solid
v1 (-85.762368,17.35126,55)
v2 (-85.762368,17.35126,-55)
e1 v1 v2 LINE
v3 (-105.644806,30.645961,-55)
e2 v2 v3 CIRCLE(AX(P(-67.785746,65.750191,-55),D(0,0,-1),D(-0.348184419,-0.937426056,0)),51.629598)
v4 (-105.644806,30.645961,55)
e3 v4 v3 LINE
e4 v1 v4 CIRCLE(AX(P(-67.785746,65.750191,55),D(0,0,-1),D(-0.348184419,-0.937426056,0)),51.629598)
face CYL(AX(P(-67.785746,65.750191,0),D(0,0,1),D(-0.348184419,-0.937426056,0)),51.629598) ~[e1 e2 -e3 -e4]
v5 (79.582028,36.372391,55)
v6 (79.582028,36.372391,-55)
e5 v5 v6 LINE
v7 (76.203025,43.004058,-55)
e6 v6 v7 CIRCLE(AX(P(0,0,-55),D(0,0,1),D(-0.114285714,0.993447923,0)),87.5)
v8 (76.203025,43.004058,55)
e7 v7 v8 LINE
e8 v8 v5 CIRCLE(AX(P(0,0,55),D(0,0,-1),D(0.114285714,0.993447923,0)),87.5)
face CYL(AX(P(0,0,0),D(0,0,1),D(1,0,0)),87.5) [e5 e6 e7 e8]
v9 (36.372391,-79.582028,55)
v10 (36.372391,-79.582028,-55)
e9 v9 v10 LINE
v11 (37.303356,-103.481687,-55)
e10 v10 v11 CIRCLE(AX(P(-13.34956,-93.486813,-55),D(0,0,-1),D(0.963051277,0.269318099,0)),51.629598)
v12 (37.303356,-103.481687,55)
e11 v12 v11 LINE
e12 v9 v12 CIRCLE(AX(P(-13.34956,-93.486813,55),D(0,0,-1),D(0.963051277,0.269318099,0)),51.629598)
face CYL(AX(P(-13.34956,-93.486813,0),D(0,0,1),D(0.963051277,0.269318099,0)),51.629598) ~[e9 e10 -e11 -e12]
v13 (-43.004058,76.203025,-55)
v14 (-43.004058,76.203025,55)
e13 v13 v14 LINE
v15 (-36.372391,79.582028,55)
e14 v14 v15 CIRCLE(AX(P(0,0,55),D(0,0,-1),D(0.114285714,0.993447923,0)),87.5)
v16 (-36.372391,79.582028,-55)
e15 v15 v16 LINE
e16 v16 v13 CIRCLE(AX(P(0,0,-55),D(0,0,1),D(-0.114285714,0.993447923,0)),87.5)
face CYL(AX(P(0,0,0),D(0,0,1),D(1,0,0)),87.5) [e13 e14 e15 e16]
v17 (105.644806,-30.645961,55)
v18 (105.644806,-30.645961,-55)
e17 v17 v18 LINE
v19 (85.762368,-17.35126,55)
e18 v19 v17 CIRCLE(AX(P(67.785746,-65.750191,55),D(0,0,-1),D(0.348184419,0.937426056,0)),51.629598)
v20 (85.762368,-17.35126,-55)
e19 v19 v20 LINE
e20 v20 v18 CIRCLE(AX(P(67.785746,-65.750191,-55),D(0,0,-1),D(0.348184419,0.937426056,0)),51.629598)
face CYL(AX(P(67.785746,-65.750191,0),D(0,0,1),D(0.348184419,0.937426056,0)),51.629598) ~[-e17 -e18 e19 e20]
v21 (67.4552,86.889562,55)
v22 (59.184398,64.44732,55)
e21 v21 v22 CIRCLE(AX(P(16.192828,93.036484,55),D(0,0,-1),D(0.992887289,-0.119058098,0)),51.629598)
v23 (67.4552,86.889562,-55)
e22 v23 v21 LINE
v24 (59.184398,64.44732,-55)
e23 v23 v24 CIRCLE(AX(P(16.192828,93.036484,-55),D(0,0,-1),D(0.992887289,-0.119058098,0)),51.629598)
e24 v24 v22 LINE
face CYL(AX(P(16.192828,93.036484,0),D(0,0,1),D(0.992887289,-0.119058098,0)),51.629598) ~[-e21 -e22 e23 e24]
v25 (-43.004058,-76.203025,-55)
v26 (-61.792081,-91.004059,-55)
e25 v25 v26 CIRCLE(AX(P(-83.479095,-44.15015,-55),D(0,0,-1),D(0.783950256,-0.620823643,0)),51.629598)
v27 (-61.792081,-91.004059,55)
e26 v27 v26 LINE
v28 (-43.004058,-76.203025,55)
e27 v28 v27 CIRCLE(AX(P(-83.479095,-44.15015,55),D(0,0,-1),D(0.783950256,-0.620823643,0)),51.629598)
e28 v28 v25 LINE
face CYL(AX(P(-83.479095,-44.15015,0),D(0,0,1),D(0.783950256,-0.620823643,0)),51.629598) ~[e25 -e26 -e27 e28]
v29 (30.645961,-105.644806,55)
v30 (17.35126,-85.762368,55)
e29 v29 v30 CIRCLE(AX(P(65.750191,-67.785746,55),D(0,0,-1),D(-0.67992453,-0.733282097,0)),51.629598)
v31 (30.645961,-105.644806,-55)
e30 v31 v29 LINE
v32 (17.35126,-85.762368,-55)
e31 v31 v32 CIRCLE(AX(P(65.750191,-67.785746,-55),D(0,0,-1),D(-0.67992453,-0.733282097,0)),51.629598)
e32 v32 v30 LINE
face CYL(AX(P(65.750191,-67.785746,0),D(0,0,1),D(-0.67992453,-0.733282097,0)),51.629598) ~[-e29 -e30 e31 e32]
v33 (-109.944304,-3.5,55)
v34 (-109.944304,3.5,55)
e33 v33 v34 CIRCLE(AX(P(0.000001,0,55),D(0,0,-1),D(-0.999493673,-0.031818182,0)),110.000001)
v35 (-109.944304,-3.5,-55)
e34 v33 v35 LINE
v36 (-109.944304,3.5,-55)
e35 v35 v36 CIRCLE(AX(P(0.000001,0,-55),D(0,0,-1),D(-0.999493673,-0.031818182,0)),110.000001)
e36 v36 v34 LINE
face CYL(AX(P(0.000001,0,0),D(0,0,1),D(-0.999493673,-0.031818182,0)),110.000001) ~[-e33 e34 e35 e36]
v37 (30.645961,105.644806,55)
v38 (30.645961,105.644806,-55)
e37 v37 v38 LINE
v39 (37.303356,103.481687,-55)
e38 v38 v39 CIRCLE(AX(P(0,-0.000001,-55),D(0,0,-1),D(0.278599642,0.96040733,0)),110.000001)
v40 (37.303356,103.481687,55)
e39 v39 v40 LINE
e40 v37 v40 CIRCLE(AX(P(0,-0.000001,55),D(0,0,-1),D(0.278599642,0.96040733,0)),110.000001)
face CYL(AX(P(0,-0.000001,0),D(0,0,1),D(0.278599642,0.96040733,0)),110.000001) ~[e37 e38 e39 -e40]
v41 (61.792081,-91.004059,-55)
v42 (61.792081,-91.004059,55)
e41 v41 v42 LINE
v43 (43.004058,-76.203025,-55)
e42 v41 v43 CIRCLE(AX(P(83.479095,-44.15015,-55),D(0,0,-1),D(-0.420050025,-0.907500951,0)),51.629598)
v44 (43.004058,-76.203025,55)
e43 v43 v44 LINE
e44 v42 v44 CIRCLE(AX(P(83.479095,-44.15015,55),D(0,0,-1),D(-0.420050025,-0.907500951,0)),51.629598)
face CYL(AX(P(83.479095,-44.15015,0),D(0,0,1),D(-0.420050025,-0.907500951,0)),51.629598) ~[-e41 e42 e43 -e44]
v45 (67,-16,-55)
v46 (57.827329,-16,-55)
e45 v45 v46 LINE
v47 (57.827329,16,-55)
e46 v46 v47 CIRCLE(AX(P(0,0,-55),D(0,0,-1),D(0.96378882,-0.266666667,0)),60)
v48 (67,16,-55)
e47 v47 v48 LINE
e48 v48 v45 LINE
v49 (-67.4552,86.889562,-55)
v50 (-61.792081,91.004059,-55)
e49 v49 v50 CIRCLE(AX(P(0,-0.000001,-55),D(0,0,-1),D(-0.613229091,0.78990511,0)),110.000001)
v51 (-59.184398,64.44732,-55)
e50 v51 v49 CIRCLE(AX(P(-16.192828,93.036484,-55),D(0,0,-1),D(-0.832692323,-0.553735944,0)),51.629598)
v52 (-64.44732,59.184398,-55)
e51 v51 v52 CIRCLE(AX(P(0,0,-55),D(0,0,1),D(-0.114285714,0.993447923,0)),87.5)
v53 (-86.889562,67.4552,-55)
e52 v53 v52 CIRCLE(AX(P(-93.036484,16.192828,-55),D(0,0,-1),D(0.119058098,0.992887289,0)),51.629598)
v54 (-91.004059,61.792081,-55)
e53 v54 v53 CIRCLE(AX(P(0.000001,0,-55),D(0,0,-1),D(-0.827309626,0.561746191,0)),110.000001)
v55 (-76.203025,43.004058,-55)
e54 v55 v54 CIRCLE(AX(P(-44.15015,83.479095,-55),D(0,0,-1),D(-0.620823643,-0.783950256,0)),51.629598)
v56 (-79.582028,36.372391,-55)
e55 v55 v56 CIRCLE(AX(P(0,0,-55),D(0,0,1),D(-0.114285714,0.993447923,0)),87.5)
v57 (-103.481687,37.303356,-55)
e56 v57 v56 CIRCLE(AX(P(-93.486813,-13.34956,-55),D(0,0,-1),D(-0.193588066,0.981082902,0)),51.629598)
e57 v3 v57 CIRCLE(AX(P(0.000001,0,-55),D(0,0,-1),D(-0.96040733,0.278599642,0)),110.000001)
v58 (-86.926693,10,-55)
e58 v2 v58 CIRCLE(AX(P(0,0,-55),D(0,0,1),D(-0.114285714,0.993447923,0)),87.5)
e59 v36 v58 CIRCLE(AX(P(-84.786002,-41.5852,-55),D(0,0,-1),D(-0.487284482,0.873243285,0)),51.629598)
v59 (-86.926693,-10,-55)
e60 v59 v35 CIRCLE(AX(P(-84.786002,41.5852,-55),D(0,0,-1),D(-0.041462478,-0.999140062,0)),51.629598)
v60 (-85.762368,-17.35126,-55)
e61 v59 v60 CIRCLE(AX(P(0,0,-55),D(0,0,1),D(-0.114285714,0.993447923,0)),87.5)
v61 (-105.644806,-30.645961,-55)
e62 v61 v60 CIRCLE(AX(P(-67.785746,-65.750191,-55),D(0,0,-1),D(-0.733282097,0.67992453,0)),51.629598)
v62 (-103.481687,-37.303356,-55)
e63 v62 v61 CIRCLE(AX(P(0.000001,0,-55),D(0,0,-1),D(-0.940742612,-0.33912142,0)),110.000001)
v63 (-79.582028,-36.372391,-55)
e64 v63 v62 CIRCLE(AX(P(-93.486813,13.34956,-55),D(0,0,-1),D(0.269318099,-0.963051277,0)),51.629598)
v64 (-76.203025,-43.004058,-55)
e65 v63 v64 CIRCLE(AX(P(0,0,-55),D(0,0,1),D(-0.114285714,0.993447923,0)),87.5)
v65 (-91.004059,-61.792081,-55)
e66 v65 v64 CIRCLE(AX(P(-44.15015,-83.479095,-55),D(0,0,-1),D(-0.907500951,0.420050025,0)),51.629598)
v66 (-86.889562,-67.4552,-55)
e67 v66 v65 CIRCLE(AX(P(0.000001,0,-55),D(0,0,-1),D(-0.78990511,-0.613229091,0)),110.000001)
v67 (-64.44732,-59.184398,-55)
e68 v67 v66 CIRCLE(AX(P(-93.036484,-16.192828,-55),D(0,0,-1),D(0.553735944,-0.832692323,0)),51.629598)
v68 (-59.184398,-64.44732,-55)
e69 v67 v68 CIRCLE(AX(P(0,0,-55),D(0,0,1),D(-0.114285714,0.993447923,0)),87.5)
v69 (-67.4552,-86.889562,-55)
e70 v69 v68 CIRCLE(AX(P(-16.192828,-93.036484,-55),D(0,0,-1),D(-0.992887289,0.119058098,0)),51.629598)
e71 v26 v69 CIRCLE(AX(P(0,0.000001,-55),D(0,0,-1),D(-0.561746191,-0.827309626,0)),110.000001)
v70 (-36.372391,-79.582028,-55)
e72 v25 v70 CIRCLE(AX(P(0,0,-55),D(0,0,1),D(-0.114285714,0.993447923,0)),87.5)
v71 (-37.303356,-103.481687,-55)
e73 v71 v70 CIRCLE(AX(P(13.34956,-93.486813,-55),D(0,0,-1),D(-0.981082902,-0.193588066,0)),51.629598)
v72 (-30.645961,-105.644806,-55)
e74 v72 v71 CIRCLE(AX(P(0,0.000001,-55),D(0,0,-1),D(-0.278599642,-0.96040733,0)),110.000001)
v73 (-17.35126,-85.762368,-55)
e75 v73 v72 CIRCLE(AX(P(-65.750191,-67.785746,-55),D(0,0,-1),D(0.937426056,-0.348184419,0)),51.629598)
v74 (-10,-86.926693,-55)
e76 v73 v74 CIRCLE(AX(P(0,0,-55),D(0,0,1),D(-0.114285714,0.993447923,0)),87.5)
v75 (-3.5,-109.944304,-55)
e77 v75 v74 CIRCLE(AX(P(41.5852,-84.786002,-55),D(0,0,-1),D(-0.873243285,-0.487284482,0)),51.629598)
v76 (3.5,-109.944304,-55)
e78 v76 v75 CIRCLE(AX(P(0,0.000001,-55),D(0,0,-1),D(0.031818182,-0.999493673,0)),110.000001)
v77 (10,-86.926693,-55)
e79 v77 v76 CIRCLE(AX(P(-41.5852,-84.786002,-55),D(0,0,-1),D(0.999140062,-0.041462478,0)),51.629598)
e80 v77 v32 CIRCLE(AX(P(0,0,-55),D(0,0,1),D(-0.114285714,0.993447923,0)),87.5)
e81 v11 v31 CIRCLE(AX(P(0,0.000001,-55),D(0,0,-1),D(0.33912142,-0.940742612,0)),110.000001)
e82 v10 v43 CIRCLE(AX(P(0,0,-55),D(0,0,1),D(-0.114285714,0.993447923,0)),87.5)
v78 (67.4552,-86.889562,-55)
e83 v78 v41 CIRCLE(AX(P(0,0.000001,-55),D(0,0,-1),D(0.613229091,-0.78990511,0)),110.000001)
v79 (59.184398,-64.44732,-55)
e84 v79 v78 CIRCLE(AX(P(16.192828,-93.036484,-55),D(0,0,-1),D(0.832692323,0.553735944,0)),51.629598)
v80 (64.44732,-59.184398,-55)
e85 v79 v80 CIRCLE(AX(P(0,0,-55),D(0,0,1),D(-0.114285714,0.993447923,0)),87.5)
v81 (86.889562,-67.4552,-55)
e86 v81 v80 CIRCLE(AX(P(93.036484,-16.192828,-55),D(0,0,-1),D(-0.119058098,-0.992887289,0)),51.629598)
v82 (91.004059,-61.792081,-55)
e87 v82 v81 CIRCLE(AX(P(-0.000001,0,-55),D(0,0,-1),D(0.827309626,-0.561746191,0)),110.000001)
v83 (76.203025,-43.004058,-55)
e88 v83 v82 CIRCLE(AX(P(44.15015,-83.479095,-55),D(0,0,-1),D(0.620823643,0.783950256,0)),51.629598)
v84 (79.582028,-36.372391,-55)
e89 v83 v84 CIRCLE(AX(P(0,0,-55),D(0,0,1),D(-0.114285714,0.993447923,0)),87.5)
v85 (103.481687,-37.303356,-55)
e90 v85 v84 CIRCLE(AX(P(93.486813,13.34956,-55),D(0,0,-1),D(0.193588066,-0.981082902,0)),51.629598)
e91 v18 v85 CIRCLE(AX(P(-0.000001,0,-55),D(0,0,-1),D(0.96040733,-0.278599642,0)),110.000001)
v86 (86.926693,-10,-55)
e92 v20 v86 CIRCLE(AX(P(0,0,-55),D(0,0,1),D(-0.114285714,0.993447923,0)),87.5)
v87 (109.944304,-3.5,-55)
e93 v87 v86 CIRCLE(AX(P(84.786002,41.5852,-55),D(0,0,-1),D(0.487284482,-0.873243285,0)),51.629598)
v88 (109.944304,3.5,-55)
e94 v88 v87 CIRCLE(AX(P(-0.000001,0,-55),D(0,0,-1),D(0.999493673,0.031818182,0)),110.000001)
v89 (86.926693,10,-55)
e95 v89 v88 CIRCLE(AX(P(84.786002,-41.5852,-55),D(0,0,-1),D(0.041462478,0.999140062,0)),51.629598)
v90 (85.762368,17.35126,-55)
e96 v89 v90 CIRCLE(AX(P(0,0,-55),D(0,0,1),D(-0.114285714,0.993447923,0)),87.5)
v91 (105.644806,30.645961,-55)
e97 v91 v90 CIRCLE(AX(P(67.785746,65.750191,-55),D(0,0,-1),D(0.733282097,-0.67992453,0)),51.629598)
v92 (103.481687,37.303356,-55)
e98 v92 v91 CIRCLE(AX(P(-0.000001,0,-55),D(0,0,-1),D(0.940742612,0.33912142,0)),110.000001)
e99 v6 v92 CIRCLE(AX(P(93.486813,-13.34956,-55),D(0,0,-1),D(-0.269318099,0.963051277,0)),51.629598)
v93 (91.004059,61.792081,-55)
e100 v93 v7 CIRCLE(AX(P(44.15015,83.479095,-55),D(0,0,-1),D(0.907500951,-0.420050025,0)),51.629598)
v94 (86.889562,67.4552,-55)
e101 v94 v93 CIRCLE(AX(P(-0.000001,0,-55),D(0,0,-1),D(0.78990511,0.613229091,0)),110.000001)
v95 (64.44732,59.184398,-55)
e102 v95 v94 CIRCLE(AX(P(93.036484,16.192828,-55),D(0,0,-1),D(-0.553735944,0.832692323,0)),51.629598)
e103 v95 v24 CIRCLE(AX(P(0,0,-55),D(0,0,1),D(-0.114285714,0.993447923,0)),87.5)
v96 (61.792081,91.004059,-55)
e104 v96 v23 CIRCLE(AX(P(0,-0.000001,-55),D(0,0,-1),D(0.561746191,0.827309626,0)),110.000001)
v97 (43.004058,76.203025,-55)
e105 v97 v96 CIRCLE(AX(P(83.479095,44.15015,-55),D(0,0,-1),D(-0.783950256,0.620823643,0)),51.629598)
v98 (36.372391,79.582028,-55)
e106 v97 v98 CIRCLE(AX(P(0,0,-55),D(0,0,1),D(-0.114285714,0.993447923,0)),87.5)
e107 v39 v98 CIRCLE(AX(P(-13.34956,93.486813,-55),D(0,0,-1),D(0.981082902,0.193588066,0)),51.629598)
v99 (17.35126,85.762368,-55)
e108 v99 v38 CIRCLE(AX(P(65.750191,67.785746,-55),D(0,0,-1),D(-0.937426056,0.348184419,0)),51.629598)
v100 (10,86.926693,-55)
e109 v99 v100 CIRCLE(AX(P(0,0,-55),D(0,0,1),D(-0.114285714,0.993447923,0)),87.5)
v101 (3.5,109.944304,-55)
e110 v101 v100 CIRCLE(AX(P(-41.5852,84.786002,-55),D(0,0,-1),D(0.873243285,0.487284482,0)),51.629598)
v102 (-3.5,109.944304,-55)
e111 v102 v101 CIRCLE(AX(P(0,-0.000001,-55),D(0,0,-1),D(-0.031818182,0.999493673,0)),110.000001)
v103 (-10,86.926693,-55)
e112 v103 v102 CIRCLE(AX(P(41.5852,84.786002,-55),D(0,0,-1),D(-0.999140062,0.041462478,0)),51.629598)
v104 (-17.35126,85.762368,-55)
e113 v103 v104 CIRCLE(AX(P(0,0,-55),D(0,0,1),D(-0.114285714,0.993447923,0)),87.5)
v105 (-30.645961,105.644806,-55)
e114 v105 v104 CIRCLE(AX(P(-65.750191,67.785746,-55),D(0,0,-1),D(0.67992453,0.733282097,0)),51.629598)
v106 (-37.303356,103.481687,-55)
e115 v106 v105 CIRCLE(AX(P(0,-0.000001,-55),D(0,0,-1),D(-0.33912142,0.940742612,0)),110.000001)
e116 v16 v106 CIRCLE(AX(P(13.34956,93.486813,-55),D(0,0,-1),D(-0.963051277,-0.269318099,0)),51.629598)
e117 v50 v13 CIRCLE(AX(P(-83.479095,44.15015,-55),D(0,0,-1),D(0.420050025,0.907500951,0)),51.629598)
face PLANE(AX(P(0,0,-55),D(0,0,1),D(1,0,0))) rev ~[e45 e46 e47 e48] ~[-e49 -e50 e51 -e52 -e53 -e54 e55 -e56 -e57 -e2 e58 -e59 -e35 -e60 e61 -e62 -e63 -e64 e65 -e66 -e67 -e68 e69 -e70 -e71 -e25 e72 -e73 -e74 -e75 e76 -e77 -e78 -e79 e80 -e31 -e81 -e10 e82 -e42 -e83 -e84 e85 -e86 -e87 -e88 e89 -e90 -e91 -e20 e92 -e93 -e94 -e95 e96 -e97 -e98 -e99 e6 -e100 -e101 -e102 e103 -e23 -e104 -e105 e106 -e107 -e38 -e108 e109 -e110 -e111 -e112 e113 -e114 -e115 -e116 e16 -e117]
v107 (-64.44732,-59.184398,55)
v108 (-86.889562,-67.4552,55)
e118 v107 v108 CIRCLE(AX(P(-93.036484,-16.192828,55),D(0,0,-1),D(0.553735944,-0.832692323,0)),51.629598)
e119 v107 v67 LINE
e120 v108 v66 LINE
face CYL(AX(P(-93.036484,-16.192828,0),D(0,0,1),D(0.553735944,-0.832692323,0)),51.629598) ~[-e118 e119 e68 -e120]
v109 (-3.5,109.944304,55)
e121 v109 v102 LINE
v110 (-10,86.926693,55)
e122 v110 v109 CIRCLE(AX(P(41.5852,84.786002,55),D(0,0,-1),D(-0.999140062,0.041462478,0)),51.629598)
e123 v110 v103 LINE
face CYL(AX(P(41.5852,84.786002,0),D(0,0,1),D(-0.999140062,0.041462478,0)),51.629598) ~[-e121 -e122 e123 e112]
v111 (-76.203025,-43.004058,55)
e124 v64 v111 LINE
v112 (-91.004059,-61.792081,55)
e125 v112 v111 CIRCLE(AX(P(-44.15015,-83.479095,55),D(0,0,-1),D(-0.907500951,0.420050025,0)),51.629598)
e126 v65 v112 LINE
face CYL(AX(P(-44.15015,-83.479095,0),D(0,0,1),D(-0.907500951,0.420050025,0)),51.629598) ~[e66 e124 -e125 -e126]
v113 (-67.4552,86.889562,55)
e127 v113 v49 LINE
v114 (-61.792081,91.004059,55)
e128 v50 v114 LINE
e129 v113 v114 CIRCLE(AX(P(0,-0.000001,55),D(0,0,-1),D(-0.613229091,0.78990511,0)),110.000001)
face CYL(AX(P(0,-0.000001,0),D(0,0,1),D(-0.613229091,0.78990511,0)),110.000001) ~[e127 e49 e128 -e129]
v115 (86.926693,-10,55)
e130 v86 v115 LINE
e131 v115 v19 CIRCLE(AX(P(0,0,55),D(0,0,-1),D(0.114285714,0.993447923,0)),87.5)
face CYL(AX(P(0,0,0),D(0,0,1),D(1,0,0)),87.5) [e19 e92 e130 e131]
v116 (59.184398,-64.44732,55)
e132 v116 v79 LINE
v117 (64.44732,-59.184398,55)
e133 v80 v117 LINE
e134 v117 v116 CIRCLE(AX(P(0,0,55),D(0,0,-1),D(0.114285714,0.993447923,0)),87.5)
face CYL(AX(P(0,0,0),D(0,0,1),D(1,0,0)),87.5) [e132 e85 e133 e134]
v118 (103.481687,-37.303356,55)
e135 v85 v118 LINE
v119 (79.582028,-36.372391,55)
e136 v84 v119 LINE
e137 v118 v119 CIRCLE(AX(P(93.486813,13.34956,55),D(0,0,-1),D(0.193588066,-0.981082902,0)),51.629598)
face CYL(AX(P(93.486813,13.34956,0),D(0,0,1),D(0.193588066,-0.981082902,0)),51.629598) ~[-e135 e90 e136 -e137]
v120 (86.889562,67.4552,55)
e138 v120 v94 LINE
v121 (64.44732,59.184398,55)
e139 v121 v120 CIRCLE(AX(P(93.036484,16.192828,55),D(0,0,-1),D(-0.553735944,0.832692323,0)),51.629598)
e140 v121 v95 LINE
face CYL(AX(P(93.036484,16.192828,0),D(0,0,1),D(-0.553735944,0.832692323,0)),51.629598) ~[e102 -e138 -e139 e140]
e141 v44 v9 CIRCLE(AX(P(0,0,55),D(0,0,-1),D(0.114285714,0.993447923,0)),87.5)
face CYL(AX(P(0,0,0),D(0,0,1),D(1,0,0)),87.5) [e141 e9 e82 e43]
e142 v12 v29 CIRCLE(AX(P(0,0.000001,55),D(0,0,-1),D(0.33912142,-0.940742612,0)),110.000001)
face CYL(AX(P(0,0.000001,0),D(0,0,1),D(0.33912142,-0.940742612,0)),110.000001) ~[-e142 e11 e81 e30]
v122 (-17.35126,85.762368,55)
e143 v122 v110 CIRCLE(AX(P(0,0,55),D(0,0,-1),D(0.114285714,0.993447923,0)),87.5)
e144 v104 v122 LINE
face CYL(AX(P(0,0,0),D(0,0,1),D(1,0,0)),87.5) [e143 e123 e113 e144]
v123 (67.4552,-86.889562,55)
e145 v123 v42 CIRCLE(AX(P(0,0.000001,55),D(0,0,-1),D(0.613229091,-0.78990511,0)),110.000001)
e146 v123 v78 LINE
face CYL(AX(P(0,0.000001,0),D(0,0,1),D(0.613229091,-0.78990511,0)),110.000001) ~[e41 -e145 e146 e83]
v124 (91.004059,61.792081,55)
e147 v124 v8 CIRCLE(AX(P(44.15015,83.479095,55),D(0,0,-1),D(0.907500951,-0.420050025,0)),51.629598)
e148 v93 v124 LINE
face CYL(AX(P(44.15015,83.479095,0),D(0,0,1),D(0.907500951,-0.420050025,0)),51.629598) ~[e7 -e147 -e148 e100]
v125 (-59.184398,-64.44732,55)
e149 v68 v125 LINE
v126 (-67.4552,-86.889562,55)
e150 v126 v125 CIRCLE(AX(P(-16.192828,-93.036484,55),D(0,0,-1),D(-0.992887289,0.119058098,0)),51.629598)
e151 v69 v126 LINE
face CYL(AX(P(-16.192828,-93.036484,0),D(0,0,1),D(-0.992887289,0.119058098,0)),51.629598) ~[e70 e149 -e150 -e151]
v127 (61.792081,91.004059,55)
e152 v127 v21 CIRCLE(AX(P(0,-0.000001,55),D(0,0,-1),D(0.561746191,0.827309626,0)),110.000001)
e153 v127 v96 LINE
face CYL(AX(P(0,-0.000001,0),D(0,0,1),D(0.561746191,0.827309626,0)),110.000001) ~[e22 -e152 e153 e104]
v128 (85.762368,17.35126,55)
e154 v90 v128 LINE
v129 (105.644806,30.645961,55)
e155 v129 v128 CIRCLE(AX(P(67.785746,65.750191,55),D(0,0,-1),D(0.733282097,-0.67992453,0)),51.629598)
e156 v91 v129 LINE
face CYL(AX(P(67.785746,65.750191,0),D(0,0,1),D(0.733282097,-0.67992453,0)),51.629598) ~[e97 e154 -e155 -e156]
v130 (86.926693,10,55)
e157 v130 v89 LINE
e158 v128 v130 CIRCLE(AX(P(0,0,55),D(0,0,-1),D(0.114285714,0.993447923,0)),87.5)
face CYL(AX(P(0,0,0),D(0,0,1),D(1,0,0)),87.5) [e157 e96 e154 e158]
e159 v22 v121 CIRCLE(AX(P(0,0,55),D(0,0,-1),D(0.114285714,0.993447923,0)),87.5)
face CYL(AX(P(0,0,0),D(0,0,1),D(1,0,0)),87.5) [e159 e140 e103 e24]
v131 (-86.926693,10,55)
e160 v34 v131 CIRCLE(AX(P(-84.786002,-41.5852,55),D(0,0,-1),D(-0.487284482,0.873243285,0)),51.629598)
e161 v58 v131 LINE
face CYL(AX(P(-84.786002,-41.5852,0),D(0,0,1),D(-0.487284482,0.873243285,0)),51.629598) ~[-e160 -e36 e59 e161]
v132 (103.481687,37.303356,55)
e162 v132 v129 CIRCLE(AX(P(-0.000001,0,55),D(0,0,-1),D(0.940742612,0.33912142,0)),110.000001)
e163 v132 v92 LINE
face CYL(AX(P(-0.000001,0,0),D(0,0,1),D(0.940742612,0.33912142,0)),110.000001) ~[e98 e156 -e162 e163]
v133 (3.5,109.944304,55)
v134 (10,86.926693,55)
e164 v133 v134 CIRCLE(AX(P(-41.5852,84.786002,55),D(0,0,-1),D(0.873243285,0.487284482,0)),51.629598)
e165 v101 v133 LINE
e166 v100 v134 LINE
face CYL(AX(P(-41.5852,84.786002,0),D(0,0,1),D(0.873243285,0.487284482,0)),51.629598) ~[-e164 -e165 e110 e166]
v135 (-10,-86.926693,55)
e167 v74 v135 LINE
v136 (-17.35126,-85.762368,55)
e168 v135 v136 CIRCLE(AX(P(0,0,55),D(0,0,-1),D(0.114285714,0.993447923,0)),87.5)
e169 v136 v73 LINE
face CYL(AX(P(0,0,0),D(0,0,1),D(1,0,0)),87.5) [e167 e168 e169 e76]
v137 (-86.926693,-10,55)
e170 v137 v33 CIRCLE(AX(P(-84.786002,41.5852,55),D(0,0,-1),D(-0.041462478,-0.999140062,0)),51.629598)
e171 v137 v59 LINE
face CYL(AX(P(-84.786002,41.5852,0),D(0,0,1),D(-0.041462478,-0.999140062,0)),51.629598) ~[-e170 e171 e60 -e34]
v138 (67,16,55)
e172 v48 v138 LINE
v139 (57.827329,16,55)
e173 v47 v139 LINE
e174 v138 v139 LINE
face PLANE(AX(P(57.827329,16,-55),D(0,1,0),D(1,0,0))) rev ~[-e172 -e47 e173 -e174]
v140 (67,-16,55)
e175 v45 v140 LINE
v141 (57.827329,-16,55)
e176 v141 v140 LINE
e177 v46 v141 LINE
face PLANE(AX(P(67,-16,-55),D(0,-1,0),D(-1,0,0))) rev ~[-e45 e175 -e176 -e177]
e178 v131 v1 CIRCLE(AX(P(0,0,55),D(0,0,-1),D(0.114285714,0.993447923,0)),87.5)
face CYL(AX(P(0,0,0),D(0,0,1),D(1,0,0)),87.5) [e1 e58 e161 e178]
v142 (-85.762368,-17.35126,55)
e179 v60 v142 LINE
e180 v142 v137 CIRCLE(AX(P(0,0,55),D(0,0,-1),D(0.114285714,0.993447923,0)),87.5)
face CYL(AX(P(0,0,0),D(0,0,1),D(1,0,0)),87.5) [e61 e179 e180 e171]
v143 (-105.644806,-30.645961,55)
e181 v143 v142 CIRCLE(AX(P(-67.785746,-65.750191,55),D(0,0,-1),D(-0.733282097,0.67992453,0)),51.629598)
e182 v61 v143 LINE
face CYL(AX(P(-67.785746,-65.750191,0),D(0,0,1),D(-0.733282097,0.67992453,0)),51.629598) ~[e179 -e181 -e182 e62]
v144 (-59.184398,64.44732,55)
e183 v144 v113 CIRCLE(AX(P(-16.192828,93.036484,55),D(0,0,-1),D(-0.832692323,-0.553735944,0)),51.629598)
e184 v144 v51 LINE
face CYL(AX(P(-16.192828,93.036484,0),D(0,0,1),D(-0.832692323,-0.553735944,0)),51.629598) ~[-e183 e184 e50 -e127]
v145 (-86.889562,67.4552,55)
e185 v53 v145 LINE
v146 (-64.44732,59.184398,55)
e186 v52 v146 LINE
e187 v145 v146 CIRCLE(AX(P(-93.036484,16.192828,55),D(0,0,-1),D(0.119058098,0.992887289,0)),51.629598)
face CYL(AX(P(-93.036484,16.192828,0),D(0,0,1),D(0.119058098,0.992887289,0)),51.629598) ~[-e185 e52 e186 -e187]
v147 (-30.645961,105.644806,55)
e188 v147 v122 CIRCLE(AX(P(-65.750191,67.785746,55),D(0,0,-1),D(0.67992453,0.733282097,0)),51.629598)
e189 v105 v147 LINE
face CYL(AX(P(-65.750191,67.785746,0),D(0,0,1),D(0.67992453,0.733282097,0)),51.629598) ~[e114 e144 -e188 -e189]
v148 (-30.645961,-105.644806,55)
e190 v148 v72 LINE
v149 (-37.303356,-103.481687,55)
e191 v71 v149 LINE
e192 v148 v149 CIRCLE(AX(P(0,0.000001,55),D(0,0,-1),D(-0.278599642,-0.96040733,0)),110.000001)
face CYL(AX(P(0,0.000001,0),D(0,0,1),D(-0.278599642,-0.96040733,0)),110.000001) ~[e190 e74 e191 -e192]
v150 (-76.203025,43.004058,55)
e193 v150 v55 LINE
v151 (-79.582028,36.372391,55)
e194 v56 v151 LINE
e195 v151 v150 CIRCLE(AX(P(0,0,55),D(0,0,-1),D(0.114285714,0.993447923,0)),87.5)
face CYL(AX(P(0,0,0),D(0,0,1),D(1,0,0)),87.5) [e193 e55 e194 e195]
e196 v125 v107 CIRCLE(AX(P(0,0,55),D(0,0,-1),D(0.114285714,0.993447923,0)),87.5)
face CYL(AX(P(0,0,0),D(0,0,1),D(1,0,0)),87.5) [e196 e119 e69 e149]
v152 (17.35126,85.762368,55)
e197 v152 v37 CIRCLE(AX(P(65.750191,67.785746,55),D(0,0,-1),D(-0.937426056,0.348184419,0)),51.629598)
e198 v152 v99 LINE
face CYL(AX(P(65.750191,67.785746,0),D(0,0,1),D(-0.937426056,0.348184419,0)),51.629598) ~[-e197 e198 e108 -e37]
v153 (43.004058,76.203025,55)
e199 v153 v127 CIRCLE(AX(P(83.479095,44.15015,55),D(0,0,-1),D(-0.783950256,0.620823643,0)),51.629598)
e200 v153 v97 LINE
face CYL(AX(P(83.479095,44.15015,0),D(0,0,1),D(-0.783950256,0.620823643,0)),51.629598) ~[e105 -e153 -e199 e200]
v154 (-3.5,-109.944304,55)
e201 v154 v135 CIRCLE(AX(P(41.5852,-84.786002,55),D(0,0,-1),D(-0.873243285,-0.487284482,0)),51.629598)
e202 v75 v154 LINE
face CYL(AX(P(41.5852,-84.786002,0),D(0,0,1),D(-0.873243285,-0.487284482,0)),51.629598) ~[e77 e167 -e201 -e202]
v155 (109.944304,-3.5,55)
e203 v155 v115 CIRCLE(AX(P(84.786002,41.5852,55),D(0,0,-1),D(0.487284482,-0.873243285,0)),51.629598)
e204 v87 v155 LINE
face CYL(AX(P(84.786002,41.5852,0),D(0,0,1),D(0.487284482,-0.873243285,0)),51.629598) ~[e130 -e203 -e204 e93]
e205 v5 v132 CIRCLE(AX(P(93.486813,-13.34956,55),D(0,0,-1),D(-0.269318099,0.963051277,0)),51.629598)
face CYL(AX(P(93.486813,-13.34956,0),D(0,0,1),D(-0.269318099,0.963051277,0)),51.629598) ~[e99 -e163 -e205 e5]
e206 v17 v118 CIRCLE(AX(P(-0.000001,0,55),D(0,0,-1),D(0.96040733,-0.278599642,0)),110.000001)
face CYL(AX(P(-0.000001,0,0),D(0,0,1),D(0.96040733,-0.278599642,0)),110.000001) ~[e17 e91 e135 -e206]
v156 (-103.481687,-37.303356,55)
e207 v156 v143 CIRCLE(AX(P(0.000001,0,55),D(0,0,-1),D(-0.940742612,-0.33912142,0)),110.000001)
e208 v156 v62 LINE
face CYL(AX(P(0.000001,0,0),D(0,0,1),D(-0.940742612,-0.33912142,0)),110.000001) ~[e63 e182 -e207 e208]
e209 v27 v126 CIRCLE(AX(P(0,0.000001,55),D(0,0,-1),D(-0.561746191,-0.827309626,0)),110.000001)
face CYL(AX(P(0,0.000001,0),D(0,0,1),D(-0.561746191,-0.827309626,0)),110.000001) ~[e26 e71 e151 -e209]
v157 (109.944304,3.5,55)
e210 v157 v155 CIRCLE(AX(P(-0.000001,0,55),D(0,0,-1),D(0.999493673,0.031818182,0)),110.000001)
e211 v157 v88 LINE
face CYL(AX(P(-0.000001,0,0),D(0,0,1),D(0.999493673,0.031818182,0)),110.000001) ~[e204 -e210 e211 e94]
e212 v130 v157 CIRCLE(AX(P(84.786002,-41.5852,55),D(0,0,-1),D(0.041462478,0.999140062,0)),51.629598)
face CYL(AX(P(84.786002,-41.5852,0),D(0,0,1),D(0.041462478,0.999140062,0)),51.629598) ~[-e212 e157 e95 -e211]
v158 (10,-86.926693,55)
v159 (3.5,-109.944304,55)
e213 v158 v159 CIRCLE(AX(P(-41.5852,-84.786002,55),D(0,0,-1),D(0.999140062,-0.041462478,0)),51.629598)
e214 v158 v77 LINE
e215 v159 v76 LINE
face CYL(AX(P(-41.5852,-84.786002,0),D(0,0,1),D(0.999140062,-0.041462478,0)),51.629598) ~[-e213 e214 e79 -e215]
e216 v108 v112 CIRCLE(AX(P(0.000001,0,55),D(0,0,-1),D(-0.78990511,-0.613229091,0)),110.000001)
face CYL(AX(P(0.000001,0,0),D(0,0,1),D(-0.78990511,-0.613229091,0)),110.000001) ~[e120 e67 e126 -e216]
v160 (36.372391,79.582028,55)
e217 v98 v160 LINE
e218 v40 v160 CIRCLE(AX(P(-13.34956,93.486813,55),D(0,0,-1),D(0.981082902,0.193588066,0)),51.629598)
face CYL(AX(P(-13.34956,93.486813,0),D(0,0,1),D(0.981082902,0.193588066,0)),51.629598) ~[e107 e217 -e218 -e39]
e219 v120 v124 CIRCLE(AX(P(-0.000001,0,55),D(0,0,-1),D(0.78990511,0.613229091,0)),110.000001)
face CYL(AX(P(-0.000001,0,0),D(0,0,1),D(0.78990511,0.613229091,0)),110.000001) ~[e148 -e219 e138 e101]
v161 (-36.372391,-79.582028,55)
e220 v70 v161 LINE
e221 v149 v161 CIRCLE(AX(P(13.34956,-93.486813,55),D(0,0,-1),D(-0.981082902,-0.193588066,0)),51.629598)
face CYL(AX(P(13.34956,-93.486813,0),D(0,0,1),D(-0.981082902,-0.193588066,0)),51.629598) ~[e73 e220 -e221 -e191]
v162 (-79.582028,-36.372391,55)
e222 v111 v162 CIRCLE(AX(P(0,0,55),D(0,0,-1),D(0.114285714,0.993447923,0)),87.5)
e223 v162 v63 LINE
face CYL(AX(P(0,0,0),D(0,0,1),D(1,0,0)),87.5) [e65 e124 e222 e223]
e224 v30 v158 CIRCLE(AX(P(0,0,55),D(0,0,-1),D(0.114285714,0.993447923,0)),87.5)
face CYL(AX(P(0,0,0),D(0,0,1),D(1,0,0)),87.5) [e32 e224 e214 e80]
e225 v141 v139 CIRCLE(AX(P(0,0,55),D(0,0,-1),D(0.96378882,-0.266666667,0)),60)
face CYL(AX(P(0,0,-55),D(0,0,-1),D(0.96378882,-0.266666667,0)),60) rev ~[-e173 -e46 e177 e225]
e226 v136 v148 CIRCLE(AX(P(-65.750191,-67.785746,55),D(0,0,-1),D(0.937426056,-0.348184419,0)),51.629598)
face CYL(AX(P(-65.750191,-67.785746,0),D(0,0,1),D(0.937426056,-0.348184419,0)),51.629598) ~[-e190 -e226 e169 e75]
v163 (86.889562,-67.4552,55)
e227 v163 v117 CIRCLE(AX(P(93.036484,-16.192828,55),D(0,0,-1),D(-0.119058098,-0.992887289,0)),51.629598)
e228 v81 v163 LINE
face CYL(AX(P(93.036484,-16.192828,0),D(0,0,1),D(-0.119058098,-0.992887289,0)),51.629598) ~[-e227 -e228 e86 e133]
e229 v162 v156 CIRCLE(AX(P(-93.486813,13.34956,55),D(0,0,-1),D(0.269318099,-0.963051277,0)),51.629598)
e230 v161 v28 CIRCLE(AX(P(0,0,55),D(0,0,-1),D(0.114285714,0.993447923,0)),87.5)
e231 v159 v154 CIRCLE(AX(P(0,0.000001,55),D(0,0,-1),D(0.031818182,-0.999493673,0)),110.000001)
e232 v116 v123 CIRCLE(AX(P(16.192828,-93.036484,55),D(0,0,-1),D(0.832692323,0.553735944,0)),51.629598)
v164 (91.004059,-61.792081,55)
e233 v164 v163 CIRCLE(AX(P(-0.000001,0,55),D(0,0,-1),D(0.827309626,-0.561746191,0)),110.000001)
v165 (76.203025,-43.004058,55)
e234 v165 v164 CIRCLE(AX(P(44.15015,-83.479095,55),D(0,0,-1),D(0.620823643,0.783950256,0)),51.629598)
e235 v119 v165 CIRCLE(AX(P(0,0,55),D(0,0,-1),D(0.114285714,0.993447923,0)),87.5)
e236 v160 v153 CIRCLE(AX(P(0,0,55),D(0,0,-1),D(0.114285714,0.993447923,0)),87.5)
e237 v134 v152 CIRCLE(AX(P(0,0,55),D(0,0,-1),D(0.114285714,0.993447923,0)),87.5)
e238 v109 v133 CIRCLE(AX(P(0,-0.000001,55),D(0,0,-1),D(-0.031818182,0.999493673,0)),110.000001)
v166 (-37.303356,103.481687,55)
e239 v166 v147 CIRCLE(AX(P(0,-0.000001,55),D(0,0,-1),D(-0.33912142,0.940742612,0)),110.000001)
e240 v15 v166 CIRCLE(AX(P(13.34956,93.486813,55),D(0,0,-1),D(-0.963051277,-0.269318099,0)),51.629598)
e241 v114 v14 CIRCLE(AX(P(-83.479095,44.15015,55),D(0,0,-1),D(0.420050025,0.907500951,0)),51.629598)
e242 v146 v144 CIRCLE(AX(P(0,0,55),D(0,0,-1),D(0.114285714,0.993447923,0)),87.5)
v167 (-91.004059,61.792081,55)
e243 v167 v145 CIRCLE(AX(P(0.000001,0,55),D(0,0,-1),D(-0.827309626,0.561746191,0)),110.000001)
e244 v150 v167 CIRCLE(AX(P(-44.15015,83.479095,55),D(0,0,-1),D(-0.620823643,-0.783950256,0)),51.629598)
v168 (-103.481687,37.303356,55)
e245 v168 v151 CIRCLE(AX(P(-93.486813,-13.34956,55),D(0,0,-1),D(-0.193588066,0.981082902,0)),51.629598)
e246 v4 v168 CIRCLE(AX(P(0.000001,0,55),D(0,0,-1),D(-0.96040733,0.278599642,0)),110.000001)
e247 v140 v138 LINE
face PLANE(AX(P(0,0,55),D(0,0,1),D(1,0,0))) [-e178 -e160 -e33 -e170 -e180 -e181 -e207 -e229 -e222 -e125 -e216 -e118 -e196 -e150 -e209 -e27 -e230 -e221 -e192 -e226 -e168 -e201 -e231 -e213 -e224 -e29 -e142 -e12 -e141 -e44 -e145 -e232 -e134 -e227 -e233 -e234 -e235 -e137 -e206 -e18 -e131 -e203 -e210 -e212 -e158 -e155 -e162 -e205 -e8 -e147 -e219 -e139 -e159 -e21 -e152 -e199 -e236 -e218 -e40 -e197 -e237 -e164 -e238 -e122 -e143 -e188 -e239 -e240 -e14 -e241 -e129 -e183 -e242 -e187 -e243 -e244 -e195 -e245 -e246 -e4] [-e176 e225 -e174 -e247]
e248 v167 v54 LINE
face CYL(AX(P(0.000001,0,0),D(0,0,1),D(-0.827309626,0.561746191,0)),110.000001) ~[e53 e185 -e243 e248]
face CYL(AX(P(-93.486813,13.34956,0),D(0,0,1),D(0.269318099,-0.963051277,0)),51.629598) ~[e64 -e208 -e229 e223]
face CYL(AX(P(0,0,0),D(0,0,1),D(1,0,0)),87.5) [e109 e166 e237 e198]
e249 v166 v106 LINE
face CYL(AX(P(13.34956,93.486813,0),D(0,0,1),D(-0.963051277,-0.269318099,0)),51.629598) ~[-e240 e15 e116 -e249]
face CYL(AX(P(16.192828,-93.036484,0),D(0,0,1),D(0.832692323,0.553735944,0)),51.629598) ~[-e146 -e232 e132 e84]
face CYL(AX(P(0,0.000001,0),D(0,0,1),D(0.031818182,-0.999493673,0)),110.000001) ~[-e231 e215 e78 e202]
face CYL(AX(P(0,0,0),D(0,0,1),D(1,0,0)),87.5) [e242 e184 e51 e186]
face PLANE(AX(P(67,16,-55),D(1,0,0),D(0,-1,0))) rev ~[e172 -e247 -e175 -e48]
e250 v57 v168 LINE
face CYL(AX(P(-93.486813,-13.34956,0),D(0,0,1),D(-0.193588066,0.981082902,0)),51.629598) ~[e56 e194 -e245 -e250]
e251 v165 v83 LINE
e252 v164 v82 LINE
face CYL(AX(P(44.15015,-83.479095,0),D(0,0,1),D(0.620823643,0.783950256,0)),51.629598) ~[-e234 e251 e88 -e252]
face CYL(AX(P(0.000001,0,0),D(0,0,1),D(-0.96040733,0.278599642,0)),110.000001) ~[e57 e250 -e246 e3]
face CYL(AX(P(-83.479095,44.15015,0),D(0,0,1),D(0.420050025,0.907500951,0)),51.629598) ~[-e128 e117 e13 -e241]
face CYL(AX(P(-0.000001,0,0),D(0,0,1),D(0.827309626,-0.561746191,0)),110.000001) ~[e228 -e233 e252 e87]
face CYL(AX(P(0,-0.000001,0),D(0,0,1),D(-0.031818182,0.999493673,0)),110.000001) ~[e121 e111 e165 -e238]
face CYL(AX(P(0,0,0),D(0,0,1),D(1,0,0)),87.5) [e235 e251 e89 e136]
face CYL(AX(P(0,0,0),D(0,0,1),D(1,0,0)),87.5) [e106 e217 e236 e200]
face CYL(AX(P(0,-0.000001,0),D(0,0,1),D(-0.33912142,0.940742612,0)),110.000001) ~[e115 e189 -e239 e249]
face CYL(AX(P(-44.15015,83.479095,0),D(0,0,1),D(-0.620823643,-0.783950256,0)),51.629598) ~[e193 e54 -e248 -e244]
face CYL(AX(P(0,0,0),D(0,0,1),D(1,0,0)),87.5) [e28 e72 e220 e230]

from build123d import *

# Parameters (mm, degrees)
SKETCH_1_R               = 87.5
EXTRUDE_1_DEPTH          = 55
EXTRUDE_2_DEPTH          = 55
PATTERN_CIRCULAR_1_COUNT = 20
CUT_EXTRUDE_1_DEPTH      = 191.525588833


with BuildPart() as part:
    # 草图1 → 拉伸1 (new, symmetric)
    with BuildSketch(Plane.XY):
        Circle(SKETCH_1_R)
    extrude(amount=EXTRUDE_1_DEPTH, both=True)

    # 草图2 → 拉伸2 (add, symmetric)
    with BuildSketch(Plane.XY):
        with BuildLine():
            ThreePointArc((10, 86.926693254), (0, 87.5), (-10, 86.926693254))
            ThreePointArc((-10, 86.926693254), (-8.101258535, 98.817083904), (-3.5, 109.944304082))
            ThreePointArc((-3.5, 109.944304082), (0, 110), (3.5, 109.944304082))
            ThreePointArc((3.5, 109.944304082), (8.101258535, 98.817083904), (10, 86.926693254))
        make_face()
    extrude_2 = extrude(amount=EXTRUDE_2_DEPTH, both=True)

    # 阵列(圆周)1: 拉伸2 ×20 about axis
    pattern_circular_1_axis = Axis((0, 0, 0), (0, 0, 1))
    for i in range(1, PATTERN_CIRCULAR_1_COUNT):
        add(extrude_2.rotate(pattern_circular_1_axis, i * 360 / PATTERN_CIRCULAR_1_COUNT))

    # 草图3 → 切除-拉伸1 (cut, through all)
    with BuildSketch(Plane.XY.offset(-55)):
        with BuildLine():
            Line((57.827329179, 16), (67, 16))
            Line((67, 16), (67, -16))
            Line((67, -16), (57.827329179, -16))
            ThreePointArc((57.827329179, -16), (-60, 0), (57.827329179, 16))
        make_face()
    extrude(amount=CUT_EXTRUDE_1_DEPTH, mode=Mode.SUBTRACT)


solid = part.part
